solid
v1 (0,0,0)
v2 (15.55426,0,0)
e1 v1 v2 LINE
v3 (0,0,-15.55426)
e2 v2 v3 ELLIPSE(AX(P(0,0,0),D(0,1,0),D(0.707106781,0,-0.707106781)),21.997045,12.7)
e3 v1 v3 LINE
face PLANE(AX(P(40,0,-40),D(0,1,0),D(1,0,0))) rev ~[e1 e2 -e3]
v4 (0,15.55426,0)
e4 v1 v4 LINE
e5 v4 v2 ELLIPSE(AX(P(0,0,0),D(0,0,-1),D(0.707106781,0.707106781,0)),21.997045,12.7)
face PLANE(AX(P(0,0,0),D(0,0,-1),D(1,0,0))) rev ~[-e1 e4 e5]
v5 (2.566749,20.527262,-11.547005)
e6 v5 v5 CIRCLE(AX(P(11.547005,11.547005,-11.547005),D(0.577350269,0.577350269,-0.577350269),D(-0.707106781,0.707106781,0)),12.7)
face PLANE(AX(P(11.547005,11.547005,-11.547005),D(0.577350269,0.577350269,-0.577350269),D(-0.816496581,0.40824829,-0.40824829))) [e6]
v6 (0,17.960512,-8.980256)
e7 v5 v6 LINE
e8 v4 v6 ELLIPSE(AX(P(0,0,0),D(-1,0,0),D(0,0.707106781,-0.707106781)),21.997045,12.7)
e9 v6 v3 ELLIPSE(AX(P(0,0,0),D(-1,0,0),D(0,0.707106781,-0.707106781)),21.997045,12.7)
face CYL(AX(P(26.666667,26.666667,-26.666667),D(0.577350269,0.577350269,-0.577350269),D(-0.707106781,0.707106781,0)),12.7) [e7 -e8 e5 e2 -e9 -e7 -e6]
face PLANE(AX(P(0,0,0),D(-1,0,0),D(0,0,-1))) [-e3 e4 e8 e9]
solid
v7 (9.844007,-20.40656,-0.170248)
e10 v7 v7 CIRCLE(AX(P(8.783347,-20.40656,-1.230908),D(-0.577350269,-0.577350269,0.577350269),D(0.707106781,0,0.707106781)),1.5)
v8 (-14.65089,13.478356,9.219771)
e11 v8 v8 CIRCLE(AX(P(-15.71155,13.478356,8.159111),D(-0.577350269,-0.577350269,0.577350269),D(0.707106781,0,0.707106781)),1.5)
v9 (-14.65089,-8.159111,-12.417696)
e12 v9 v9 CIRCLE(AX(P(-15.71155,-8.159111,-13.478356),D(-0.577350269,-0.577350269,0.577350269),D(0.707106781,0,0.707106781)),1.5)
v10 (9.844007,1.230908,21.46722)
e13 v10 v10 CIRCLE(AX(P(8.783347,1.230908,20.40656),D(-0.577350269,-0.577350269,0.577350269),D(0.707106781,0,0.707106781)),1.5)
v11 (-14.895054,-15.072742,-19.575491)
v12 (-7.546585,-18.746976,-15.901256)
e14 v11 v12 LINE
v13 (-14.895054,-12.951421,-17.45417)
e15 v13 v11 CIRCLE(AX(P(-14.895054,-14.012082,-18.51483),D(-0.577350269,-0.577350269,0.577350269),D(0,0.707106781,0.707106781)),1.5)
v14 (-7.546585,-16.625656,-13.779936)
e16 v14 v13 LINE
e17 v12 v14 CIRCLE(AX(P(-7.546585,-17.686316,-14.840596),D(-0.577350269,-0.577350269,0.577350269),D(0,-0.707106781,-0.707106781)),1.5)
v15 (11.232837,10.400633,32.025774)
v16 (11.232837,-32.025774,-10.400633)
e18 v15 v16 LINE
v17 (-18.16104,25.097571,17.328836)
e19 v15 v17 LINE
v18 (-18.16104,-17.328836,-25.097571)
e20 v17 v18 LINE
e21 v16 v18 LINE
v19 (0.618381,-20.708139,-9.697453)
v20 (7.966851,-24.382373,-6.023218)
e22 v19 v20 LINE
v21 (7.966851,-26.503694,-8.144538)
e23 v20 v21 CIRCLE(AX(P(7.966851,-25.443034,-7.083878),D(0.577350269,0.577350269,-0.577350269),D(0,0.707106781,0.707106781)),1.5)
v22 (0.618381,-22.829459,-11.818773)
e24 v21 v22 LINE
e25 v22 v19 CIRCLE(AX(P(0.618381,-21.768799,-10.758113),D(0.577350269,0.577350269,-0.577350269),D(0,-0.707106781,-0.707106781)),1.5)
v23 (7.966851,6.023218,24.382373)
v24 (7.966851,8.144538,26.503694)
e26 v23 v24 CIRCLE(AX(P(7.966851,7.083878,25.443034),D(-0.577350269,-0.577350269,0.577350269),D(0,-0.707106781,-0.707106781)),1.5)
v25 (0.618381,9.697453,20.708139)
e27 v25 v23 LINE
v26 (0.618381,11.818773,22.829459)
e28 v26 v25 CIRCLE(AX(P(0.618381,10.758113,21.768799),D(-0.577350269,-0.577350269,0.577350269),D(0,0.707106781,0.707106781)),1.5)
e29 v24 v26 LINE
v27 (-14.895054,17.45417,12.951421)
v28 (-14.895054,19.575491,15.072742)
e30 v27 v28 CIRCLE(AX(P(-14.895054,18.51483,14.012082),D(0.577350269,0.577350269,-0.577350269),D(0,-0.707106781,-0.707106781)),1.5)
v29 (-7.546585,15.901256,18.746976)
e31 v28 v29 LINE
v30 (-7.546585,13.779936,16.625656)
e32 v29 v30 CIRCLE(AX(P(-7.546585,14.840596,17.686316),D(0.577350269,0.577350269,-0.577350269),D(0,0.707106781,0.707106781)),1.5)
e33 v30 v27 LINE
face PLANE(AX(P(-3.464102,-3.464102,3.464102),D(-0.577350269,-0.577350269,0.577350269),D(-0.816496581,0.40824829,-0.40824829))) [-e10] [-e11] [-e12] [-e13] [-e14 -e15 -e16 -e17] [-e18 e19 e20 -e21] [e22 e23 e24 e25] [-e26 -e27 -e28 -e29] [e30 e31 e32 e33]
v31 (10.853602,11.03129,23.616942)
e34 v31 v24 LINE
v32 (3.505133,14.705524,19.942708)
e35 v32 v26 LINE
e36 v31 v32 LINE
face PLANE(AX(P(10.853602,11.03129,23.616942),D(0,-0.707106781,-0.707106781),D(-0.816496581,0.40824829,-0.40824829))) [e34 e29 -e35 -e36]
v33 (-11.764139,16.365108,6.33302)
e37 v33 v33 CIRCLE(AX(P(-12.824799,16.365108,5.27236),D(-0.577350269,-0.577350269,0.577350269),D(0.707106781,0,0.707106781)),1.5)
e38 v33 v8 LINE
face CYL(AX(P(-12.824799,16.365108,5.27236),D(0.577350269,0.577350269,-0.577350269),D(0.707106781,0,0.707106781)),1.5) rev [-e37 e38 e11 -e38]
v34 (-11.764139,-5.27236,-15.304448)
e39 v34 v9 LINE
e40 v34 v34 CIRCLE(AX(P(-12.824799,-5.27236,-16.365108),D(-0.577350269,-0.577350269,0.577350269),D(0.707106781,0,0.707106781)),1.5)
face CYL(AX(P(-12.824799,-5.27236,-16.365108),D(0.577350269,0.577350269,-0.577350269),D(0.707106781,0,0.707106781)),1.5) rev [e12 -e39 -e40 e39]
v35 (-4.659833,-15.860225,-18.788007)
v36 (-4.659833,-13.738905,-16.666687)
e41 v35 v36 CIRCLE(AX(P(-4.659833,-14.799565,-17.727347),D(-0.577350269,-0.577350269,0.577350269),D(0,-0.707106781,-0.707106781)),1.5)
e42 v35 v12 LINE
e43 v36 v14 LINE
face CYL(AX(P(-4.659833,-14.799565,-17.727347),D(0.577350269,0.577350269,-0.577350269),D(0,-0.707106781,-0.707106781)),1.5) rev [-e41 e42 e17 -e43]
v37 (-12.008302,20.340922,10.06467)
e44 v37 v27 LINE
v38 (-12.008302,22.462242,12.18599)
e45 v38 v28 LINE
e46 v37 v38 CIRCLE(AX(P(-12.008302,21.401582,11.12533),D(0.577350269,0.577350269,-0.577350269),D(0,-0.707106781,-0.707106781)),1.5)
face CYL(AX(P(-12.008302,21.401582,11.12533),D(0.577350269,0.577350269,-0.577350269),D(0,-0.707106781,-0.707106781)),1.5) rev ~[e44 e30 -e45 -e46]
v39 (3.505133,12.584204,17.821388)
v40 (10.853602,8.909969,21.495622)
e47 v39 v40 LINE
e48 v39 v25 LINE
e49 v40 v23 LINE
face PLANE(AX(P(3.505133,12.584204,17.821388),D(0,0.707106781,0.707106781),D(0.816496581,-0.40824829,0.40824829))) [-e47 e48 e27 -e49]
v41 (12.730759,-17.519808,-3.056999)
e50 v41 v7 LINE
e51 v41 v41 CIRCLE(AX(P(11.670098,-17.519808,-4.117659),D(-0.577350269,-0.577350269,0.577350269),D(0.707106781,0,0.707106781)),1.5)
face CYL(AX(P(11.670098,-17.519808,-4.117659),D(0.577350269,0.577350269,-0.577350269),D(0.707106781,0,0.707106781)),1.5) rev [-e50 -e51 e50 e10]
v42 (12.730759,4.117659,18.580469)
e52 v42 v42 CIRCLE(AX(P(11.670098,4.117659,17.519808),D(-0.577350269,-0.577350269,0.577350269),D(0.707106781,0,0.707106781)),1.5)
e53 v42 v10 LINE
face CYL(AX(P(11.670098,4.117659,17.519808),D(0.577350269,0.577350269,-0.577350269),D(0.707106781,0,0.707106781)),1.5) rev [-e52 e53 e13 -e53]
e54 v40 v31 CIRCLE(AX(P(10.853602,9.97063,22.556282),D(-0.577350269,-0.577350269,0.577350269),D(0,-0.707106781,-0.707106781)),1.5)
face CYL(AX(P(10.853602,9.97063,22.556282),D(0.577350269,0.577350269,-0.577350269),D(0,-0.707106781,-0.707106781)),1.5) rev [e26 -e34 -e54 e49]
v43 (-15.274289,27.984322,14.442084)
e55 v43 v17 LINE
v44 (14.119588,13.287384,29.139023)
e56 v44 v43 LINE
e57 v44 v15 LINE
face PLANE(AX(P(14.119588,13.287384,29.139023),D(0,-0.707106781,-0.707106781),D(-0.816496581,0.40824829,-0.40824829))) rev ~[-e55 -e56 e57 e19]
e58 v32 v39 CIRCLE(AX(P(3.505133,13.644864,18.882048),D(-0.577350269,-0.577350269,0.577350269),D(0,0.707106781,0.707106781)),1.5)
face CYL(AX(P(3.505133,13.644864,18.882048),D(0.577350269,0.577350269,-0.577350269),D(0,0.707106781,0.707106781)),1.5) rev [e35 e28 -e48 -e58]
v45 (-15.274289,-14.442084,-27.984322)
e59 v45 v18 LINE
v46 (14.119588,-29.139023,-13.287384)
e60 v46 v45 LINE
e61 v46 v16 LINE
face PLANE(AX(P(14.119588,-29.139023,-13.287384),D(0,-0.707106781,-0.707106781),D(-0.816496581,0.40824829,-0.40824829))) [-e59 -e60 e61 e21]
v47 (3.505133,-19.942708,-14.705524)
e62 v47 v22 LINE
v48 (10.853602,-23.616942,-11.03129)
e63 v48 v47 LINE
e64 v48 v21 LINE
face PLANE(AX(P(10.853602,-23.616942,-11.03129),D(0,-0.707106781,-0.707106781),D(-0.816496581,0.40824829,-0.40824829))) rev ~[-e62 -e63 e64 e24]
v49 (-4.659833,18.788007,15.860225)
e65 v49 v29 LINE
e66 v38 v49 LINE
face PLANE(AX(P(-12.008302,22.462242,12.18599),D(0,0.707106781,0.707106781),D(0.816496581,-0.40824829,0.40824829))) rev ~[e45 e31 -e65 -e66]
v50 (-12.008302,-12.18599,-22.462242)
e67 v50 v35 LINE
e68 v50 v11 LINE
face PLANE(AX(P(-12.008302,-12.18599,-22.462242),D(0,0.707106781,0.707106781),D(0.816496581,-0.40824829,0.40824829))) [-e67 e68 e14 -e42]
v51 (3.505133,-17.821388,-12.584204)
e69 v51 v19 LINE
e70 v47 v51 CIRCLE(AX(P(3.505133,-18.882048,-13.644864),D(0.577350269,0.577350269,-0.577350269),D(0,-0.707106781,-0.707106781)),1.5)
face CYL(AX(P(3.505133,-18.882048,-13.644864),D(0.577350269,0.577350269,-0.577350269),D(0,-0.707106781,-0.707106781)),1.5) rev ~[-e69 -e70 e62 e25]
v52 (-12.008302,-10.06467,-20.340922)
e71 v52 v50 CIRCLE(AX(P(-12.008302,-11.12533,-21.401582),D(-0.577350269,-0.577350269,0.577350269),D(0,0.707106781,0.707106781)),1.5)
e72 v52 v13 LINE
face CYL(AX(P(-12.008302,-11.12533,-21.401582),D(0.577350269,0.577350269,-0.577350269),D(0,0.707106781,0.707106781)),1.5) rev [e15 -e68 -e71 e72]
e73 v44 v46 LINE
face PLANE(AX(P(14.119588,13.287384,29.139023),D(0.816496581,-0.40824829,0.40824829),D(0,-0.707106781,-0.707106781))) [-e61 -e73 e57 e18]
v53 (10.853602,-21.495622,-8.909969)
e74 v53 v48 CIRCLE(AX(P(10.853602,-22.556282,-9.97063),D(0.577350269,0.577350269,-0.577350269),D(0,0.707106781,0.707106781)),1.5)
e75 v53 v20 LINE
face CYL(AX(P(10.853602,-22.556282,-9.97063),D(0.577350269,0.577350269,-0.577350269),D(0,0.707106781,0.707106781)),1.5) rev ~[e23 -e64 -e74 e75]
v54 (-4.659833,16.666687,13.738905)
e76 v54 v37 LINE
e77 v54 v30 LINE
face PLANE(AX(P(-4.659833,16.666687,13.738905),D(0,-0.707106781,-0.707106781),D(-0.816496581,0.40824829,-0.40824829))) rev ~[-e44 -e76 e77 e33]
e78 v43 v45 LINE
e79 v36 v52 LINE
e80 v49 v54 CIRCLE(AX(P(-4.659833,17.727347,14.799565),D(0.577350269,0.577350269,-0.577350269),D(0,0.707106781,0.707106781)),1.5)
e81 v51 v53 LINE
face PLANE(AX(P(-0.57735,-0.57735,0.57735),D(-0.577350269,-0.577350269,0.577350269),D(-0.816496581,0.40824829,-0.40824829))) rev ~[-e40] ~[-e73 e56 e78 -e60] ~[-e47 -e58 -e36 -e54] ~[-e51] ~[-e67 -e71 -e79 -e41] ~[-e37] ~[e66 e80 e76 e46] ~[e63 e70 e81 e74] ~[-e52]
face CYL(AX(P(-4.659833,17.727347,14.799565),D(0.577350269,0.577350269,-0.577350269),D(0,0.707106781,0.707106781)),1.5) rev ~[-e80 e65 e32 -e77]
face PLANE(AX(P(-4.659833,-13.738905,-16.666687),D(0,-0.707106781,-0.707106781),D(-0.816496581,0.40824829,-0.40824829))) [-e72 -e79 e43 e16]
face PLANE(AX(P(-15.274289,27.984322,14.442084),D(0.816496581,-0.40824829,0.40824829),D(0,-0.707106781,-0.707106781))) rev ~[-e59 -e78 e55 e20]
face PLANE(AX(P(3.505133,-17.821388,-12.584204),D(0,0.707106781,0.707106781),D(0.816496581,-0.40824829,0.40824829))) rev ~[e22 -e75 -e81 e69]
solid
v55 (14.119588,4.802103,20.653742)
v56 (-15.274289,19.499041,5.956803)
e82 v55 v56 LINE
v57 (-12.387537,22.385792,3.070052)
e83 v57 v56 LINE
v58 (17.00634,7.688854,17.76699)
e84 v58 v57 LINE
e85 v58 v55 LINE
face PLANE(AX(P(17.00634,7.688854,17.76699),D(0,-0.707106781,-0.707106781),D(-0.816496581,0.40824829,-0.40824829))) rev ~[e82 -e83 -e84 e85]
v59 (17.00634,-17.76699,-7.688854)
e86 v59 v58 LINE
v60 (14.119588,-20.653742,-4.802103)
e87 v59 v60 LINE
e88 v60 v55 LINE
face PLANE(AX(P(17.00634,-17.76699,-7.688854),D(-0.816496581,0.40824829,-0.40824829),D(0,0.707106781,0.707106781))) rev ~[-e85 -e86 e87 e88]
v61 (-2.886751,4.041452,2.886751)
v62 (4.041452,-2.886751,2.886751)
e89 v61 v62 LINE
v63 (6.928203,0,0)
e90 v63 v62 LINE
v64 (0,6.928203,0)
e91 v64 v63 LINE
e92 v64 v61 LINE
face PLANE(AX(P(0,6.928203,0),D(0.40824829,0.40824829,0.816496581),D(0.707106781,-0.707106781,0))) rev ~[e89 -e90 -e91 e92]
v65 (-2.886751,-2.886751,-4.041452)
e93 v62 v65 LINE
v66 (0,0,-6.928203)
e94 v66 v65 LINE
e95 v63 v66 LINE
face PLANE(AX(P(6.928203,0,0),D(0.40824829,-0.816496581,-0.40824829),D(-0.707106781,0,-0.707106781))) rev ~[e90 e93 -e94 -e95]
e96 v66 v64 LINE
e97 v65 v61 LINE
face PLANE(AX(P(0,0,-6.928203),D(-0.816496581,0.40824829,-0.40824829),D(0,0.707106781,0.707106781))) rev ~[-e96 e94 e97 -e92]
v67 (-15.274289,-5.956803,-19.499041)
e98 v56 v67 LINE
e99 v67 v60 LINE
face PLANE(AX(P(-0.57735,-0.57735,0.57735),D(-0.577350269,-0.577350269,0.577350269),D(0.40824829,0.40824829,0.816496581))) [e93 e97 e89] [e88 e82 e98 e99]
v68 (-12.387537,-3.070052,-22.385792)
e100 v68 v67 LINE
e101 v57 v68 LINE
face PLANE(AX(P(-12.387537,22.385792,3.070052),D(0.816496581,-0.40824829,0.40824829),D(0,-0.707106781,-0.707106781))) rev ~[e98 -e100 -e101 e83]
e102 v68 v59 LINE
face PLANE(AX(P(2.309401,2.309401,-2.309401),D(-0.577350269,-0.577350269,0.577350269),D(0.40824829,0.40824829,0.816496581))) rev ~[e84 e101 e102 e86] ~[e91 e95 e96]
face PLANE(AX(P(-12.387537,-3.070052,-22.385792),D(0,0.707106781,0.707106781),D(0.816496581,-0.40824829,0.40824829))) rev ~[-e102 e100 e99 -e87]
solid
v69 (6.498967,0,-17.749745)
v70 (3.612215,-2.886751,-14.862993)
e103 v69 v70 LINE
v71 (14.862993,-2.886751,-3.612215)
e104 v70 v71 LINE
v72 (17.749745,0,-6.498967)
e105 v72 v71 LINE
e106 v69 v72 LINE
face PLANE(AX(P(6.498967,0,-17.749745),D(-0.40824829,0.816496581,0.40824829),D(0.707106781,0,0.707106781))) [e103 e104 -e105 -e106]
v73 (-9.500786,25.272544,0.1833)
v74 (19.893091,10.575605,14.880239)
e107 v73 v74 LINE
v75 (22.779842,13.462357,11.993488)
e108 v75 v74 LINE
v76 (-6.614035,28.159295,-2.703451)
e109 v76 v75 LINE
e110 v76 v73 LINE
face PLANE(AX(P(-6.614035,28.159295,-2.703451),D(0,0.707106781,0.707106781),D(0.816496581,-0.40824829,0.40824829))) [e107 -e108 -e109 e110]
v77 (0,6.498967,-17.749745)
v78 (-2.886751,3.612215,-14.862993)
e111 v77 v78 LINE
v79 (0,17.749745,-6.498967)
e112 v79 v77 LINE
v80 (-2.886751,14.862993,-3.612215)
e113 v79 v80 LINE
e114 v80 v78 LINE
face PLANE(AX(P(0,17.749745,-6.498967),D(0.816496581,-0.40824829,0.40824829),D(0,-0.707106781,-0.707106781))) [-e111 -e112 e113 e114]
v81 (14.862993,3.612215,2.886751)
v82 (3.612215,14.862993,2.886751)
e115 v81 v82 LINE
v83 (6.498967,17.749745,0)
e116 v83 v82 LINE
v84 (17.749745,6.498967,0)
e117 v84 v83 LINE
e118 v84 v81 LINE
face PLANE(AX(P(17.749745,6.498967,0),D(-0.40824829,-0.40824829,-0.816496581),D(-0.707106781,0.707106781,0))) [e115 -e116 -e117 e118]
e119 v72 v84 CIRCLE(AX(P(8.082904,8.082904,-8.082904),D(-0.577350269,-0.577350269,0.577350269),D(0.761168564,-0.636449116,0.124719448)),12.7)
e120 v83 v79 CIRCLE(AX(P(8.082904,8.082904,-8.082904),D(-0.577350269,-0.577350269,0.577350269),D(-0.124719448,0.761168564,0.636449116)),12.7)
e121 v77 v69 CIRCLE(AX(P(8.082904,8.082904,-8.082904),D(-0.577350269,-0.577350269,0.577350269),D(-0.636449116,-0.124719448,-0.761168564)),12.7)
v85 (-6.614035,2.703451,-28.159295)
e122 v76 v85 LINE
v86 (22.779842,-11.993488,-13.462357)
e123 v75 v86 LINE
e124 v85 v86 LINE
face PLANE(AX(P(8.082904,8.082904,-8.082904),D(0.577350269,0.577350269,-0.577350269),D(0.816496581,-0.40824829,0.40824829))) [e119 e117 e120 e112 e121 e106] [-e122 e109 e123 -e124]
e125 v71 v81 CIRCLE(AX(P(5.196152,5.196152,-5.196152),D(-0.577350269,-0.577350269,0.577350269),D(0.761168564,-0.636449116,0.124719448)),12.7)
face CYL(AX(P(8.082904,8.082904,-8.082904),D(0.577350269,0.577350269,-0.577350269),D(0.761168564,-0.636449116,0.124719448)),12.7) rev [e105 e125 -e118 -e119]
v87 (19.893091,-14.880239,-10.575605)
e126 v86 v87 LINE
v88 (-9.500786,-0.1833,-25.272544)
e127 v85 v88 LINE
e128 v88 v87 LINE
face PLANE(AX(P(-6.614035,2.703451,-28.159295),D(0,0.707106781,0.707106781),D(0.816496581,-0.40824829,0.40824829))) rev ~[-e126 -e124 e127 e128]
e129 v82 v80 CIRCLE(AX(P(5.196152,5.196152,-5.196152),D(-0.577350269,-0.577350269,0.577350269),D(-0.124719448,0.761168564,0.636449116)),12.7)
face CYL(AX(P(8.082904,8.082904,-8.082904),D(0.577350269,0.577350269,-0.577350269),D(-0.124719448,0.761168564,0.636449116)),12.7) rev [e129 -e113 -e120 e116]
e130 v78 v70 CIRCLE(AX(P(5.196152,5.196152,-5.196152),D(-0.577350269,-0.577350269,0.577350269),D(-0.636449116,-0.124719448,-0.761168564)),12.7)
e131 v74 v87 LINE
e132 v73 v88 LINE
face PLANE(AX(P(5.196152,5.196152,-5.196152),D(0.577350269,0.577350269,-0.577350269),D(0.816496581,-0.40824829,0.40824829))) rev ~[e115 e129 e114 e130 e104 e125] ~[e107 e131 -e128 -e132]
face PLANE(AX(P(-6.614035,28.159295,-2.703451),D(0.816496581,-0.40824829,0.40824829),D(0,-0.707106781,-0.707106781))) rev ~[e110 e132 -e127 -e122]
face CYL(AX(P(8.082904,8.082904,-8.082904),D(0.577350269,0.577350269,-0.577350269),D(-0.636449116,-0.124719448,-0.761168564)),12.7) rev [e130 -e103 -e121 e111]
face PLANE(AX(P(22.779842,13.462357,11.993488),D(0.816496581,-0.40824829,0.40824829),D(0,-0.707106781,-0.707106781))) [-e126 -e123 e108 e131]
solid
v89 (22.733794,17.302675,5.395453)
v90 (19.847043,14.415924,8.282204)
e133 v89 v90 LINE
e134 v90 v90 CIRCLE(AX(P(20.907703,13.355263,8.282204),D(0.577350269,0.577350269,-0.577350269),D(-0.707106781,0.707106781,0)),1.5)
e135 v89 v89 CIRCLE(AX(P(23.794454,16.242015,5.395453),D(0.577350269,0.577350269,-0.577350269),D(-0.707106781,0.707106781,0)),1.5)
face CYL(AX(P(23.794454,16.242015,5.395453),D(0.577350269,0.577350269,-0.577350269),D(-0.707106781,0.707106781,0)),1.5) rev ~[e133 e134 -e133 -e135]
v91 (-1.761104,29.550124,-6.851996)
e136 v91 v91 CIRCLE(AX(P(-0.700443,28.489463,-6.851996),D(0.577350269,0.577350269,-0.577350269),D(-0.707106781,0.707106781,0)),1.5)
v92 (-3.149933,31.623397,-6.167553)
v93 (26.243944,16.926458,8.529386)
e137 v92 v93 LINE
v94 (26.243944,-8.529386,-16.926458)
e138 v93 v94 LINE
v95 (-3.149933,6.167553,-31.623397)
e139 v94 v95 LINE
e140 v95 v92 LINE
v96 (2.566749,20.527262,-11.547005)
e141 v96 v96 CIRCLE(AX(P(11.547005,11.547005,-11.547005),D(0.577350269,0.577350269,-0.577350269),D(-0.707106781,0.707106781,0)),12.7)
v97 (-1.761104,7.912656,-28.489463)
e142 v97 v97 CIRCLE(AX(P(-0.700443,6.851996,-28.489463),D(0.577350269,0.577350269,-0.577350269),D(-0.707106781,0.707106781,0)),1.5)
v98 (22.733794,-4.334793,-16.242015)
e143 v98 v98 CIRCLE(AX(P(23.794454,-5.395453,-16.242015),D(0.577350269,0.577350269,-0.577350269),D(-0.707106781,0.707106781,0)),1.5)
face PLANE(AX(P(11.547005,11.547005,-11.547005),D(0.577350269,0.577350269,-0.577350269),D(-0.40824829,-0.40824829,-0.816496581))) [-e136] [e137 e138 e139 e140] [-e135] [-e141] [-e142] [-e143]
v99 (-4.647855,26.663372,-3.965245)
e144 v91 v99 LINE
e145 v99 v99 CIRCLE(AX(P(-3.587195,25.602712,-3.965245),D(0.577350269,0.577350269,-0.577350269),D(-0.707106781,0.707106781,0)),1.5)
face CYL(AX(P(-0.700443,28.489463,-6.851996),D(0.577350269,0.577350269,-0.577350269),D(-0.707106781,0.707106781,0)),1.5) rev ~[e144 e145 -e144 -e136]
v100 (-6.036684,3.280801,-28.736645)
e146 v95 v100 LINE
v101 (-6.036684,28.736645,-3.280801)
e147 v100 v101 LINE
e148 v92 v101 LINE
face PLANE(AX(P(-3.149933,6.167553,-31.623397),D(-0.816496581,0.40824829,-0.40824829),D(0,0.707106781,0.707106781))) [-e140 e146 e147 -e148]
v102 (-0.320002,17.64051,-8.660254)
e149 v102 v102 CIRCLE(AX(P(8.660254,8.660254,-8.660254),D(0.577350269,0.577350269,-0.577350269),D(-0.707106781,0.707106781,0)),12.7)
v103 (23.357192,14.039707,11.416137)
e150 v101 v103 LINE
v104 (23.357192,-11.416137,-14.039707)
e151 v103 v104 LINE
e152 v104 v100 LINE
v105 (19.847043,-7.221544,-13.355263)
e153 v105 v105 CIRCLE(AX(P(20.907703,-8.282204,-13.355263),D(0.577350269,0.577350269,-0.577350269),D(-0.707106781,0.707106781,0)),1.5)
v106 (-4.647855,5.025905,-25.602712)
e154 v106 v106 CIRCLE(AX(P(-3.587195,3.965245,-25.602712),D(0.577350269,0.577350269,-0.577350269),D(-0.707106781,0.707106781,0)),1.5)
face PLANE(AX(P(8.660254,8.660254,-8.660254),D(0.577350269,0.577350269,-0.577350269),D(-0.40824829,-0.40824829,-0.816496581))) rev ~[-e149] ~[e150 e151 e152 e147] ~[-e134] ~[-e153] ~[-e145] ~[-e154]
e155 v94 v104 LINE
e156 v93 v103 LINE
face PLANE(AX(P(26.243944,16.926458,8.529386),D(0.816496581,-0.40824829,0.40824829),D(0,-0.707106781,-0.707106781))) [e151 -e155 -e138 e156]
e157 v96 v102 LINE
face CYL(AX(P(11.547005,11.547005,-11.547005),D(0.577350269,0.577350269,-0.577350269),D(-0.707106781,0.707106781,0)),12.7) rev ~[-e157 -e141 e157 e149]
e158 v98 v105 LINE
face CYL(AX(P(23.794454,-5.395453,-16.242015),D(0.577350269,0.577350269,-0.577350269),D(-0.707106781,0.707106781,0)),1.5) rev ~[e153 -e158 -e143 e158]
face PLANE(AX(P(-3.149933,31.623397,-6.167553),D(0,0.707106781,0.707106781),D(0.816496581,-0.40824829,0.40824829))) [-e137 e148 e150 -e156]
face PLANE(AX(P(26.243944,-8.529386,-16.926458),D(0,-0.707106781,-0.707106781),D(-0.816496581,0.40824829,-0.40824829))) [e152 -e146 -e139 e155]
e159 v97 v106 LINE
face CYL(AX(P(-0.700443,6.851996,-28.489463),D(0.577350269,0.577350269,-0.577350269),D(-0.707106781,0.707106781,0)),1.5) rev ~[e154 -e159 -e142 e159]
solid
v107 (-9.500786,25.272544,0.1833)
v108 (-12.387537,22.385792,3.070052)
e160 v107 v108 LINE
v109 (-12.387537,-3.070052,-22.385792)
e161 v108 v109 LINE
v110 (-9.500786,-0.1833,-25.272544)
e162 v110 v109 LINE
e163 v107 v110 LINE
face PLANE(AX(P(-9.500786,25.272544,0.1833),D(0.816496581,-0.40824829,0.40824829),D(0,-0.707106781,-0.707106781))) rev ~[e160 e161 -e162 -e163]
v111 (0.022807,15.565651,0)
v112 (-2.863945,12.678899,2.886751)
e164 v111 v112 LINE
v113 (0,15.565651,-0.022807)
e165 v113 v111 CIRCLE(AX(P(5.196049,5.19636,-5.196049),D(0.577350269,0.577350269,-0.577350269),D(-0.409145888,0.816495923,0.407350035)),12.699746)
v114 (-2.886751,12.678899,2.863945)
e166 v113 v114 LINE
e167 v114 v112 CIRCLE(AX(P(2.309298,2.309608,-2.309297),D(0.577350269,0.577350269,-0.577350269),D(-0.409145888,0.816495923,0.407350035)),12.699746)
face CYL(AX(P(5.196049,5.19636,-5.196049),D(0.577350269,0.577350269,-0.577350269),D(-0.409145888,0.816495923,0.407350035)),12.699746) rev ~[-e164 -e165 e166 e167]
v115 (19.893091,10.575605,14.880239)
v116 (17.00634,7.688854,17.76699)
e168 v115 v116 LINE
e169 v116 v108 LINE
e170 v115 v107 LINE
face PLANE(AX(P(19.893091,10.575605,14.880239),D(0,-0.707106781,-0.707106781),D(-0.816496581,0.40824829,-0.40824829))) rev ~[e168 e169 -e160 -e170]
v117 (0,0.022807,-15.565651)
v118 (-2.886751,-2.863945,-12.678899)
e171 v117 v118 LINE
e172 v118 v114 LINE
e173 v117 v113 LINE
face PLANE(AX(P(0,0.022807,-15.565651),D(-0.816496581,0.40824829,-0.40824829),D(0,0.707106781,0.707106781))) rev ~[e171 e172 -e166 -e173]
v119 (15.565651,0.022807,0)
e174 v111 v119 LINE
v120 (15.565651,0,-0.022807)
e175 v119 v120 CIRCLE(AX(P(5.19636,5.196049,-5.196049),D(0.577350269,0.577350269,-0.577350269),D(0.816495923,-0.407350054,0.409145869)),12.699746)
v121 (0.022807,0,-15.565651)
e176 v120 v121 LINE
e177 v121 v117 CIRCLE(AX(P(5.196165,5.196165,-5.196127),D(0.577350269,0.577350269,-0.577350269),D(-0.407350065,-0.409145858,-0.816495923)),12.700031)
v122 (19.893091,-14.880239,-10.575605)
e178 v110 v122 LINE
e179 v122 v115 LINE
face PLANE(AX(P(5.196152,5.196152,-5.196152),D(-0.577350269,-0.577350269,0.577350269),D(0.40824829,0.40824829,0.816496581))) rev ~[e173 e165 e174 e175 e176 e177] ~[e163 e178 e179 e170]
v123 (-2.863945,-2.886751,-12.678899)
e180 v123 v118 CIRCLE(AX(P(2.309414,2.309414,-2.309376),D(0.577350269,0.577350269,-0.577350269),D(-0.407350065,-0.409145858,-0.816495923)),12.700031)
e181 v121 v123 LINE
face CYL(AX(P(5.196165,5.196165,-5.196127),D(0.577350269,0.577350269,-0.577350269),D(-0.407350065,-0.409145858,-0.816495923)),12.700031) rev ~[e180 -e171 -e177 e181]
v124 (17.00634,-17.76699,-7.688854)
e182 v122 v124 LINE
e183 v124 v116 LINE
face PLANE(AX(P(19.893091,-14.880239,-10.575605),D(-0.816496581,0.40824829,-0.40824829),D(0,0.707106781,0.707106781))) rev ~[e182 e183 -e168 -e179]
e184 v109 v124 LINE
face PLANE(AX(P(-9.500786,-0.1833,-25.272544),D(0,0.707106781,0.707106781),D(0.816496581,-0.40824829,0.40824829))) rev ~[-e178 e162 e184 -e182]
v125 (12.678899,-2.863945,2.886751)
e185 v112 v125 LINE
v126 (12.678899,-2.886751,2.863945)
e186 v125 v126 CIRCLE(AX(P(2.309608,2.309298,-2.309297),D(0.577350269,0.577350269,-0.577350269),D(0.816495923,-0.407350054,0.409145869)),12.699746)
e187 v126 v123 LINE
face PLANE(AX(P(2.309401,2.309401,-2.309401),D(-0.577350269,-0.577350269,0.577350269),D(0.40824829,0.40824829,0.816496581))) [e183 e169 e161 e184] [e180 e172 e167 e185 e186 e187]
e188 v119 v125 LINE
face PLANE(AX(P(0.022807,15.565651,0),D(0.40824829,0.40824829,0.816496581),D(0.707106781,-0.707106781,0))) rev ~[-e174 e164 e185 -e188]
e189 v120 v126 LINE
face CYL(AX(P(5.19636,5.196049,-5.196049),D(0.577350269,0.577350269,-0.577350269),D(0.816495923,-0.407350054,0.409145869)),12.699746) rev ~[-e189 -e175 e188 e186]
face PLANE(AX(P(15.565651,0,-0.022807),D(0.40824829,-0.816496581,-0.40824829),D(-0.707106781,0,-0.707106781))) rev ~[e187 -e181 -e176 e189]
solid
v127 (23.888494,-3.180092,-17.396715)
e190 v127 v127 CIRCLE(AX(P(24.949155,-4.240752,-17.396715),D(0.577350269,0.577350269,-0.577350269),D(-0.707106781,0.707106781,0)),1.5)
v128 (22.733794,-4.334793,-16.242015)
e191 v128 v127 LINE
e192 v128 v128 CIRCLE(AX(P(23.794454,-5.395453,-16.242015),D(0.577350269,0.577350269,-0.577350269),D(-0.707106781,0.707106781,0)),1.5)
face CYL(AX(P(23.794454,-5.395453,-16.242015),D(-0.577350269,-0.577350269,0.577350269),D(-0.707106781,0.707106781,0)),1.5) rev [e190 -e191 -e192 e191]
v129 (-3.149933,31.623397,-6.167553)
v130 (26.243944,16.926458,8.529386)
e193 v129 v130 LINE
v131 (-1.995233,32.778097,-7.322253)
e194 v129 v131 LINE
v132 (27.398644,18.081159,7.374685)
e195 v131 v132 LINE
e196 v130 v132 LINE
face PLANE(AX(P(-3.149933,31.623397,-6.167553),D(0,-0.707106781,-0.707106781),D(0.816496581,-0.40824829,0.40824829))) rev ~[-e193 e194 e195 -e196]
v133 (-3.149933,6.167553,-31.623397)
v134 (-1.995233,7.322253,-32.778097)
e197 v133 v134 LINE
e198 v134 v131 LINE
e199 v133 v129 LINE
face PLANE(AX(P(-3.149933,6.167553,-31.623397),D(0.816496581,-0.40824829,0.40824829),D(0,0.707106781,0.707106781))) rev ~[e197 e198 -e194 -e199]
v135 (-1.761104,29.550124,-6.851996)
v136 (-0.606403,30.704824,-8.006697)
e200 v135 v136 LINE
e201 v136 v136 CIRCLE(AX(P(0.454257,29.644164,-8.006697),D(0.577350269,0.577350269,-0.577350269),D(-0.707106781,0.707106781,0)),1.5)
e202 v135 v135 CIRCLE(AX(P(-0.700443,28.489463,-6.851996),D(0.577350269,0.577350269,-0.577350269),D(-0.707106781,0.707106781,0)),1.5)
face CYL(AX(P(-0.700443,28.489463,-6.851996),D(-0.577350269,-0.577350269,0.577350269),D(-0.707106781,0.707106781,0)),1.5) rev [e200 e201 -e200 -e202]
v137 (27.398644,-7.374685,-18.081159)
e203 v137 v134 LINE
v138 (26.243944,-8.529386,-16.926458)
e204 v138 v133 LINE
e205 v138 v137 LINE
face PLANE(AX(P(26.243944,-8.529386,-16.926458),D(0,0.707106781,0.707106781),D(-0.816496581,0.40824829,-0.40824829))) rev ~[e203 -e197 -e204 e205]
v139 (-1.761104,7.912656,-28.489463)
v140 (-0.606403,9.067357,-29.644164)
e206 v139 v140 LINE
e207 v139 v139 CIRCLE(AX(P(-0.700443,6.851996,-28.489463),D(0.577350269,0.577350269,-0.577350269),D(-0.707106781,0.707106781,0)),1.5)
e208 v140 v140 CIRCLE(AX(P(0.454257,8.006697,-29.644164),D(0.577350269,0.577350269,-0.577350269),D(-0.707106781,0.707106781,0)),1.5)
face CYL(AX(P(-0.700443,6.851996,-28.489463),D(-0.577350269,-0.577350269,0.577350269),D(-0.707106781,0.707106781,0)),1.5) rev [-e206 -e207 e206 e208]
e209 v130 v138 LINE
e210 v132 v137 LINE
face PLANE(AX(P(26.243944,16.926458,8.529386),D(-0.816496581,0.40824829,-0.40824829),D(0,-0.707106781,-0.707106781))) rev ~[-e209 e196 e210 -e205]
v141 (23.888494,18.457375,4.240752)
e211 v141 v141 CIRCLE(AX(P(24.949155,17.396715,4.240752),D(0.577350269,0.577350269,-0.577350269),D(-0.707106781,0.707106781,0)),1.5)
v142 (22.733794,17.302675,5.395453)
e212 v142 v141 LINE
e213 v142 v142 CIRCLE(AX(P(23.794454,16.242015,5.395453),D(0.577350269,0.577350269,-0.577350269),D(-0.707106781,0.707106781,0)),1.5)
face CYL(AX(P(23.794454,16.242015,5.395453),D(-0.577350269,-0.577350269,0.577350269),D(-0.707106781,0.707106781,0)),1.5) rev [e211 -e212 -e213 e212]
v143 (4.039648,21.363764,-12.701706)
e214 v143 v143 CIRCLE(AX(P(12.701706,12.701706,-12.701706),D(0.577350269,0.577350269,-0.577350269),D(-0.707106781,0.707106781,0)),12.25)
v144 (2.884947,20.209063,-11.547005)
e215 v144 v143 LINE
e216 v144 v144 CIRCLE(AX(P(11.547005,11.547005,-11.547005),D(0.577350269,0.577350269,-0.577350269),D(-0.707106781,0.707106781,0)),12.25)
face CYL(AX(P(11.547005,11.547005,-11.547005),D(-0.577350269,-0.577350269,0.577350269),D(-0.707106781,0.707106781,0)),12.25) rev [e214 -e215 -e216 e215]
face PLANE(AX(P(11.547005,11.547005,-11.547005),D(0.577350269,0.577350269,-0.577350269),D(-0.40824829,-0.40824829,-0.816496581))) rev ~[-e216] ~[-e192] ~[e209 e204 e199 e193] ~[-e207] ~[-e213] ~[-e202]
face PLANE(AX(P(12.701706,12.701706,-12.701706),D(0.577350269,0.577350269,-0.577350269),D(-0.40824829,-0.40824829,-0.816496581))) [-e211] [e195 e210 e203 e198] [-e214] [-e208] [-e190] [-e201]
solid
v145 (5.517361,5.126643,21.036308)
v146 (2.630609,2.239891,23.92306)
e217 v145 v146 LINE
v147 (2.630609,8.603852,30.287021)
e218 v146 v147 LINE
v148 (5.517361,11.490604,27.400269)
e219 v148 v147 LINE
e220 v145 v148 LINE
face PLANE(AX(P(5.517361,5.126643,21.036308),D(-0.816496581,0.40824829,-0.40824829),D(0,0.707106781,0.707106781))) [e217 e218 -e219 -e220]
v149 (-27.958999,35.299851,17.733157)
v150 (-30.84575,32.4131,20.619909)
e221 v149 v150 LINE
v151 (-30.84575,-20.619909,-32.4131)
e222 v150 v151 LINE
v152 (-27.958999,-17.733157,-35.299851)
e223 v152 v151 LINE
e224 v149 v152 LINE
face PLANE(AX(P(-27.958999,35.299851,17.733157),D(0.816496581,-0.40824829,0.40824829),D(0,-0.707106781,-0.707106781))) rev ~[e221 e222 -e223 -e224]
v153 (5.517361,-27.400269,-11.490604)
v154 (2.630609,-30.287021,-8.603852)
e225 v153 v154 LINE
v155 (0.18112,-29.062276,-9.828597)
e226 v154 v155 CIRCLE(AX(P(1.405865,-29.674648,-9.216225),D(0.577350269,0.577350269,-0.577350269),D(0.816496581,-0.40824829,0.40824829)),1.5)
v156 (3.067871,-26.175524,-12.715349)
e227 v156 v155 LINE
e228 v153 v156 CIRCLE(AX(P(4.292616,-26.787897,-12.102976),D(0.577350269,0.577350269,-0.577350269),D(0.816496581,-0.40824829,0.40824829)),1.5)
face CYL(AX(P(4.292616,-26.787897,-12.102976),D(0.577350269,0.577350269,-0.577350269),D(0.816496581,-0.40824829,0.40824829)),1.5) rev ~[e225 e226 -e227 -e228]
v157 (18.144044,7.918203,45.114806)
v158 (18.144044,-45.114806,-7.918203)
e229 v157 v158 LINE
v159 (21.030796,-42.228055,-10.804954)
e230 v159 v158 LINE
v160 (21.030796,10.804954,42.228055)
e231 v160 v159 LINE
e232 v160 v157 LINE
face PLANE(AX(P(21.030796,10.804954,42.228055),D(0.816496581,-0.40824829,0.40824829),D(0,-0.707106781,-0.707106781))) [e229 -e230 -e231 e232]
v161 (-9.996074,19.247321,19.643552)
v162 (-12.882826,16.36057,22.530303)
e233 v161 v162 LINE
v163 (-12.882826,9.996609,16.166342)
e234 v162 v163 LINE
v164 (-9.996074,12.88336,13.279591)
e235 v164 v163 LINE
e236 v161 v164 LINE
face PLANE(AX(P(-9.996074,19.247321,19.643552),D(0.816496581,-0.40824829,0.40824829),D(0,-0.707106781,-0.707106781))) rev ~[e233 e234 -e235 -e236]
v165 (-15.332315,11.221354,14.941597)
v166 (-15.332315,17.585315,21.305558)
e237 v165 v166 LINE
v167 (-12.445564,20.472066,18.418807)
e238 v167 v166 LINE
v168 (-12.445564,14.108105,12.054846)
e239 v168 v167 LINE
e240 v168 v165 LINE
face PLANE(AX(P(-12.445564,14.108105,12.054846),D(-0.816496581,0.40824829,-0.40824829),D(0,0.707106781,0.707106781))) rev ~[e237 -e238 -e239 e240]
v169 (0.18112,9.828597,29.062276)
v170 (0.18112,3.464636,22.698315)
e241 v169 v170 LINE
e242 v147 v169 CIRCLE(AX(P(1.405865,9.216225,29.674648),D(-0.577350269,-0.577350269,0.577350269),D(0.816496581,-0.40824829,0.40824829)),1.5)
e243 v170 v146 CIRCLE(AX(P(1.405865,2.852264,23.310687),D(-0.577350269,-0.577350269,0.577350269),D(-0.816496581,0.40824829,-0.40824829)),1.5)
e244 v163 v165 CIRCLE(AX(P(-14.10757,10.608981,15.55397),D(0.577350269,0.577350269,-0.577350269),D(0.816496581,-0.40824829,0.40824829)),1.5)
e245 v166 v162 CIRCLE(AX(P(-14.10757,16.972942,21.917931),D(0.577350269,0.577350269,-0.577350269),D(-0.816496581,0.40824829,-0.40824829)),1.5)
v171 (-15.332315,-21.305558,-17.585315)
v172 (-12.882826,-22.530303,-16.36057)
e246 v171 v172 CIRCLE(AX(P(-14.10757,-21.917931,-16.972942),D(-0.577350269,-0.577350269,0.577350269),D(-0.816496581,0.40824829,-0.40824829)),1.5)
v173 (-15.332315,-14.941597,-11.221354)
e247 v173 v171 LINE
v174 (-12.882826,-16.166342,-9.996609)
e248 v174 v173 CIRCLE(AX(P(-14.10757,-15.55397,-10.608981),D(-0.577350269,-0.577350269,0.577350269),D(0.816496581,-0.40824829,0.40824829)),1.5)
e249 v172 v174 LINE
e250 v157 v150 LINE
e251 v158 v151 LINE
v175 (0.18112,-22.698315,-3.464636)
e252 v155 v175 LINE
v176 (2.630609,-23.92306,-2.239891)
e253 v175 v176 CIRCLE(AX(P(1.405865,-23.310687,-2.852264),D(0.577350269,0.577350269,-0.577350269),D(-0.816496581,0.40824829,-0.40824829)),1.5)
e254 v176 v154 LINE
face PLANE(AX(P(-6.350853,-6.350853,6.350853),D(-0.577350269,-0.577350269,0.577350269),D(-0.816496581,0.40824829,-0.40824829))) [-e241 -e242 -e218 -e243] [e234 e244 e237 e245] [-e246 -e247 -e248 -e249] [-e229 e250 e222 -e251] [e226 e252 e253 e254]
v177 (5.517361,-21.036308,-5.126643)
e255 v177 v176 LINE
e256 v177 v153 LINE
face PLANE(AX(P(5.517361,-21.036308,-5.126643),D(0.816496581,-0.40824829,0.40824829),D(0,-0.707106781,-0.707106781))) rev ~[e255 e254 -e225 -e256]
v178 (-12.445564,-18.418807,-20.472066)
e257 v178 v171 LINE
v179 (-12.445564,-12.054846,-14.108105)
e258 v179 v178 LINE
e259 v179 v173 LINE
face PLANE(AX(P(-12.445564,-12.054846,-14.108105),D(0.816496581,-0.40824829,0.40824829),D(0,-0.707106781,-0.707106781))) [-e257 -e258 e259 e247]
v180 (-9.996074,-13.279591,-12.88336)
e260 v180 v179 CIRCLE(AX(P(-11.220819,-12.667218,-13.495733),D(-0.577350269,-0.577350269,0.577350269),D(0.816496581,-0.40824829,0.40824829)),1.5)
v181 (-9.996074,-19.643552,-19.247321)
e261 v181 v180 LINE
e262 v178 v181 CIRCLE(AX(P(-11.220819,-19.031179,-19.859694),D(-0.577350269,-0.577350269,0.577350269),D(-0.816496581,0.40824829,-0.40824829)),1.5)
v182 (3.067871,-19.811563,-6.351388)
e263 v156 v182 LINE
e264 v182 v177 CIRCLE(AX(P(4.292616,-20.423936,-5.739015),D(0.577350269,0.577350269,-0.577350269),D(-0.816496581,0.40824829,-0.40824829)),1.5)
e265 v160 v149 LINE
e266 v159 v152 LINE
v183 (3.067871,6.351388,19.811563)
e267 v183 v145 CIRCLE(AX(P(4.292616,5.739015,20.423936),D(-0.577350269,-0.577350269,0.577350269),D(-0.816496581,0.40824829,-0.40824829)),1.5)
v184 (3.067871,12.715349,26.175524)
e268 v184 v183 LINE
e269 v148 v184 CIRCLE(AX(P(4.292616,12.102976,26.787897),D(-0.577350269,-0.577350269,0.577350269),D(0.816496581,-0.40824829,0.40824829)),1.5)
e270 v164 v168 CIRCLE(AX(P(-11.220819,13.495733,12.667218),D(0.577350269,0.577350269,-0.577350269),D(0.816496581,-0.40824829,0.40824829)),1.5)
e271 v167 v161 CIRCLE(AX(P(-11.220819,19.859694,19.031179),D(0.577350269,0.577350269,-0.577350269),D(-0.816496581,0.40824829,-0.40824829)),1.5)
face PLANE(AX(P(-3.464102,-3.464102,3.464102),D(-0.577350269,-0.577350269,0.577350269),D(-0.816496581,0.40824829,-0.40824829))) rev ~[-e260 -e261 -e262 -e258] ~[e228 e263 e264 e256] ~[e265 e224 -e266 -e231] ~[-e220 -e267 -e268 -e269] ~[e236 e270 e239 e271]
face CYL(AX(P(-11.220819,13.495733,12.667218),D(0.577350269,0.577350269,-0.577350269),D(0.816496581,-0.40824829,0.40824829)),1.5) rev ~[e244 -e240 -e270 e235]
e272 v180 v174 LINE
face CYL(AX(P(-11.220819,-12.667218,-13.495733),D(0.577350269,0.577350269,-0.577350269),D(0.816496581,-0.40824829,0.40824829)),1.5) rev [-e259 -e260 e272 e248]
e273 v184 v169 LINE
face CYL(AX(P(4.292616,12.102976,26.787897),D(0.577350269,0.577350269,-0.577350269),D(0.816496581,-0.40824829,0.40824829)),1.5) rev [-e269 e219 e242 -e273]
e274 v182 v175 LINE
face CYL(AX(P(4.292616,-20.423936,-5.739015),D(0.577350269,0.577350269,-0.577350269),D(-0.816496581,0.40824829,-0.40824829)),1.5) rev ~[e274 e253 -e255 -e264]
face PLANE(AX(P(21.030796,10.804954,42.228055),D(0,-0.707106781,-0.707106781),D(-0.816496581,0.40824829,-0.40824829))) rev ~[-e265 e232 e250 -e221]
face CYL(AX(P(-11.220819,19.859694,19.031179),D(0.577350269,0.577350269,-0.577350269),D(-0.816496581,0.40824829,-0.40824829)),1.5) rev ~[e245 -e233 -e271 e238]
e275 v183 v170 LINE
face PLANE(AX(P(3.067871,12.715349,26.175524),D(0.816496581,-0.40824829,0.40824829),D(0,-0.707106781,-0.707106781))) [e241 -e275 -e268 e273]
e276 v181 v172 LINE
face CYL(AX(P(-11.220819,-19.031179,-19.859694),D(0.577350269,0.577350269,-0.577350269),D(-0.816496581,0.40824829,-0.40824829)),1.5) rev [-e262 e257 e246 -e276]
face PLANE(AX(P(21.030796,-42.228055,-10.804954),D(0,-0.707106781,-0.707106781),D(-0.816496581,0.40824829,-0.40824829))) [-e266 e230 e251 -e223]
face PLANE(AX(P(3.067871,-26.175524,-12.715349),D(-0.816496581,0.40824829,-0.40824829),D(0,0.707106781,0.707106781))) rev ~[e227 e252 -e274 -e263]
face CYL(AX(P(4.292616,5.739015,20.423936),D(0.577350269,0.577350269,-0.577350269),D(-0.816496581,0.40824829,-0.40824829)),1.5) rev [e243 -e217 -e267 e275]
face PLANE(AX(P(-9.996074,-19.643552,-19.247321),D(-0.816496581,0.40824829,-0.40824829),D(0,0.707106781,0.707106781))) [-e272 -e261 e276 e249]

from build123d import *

# Parameters (mm, degrees)
SKETCH1_W            = 80
SKETCH1_H            = 80
BOSS_EXTRUDE1_DEPTH  = 80
SKETCH2_R            = 97.950709898
CUT_EXTRUDE1_DEPTH   = 93.37604307
SKETCH3_R            = 78.302577254
SKETCH3_R_2          = 12.7
CUT_EXTRUDE2_DEPTH   = 40
SKETCH4_R            = 14.105721121
CUT_EXTRUDE3_DEPTH   = 40
SKETCH6_W            = 36
SKETCH6_H            = 36
BOSS_EXTRUDE2_DEPTH  = 5
BOSS_EXTRUDE3_DEPTH  = 5
BOSS_EXTRUDE4_DEPTH  = 5
SKETCH12_R           = 12.7
SKETCH12_R_2         = 1.5
BOSS_EXTRUDE6_DEPTH  = 5
SKETCH15_W           = 36
SKETCH15_H           = 60
SKETCH15_R           = 1.5
BOSS_EXTRUDE8_DEPTH  = 5
SKETCH16_W           = 60
SKETCH16_H           = 75
BOSS_EXTRUDE9_DEPTH  = 5
SKETCH20_R           = 12.25
SKETCH20_R_2         = 1.5
BOSS_EXTRUDE10_DEPTH = 2


with BuildPart() as part:
    # Sketch1 → Boss-Extrude1 (new body)
    with BuildSketch(Plane(origin=(0, 0, 0), x_dir=(1, 0, 0), z_dir=(0, 1, 0))):
        with Locations((40, 40)):
            Rectangle(SKETCH1_W, SKETCH1_H)
    extrude(amount=BOSS_EXTRUDE1_DEPTH)

    # Sketch2 → Cut-Extrude1 (cut, through all)
    with BuildSketch(Plane(origin=(26.666666667, 26.666666667, -26.666666667), x_dir=(-0.8164965809277261, 0.408248290463863, -0.408248290463863), z_dir=(0.5773502691896257, 0.5773502691896258, -0.5773502691896258))):
        Circle(SKETCH2_R)
    extrude(amount=CUT_EXTRUDE1_DEPTH, mode=Mode.SUBTRACT)

    # Sketch3 → Cut-Extrude2 (cut)
    with BuildSketch(Plane(origin=(26.666666667, 26.666666667, -26.666666667), x_dir=(-0.4082482904638628, -0.408248290463863, -0.8164965809277263), z_dir=(0.5773502691896258, 0.577350269189626, -0.5773502691896256))):
        Circle(SKETCH3_R)
        with Locations(Location((0, 0, 0), (0, 0, 90))):
            Circle(SKETCH3_R_2, mode=Mode.SUBTRACT)
    extrude(amount=-CUT_EXTRUDE2_DEPTH, mode=Mode.SUBTRACT)

    # Sketch4 → Cut-Extrude3 (cut)
    with BuildSketch(Plane(origin=(11.547005384, 11.547005384, -11.547005384), x_dir=(-0.816496580927726, 0.408248290463863, -0.408248290463863), z_dir=(0.5773502691896258, 0.5773502691896262, -0.5773502691896255))):
        Circle(SKETCH4_R)
    extrude(amount=CUT_EXTRUDE3_DEPTH, mode=Mode.SUBTRACT)


with BuildPart() as body_2:
    # Sketch6 → Boss-Extrude2 (new body)
    with BuildSketch(Plane(origin=(8.082903769, 8.082903769, -8.082903769), x_dir=(0.8164965809277259, -0.4082482904638634, 0.40824829046386296), z_dir=(0.577350269189626, 0.5773502691896261, -0.5773502691896253))):
        Rectangle(SKETCH6_W, SKETCH6_H)
        with BuildLine():
            Line((11.839413643, -4.595463479), (-1.939918706, -12.55096472))
            ThreePointArc((-1.939918706, -12.55096472), (-6.35, -10.998522628), (-9.899494937, -7.955501241))
            Line((-9.899494937, -7.955501241), (-9.899494937, 7.955501241))
            ThreePointArc((-9.899494937, 7.955501241), (-6.35, 10.998522628), (-1.939918706, 12.55096472))
            Line((-1.939918706, 12.55096472), (11.839413643, 4.595463479))
            ThreePointArc((11.839413643, 4.595463479), (12.7, 0), (11.839413643, -4.595463479))
        make_face(mode=Mode.SUBTRACT)
    extrude(amount=-BOSS_EXTRUDE2_DEPTH)


with BuildPart() as body_3:
    # Sketch7 → Boss-Extrude3 (new body)
    with BuildSketch(Plane(origin=(5.196152423, 5.196152423, -5.196152423), x_dir=(0.4082482904638628, 0.40824829046386274, 0.8164965809277264), z_dir=(-0.5773502691896258, -0.5773502691896261, 0.5773502691896254))):
        Polygon((6.588457268, 24.588457268), (-24.588457268, 6.588457268), (-6.588457268, -24.588457268), (24.588457268, -6.588457268), align=None)
        with BuildLine():
            Line((6.363961031, 10.9904504), (6.363961031, -10.9904504))
            ThreePointArc((6.363961031, -10.9904504), (6.35, -10.998522628), (6.33602873, -11.006577121))
            Line((6.33602873, -11.006577121), (-12.699989761, -0.016126721))
            ThreePointArc((-12.699989761, -0.016126721), (-12.7, 0), (-12.699989761, 0.016126721))
            Line((-12.699989761, 0.016126721), (6.33602873, 11.006577121))
            ThreePointArc((6.33602873, 11.006577121), (6.35, 10.998522628), (6.363961031, 10.9904504))
        make_face(mode=Mode.SUBTRACT)
    extrude(amount=BOSS_EXTRUDE3_DEPTH)


with BuildPart() as body_4:
    # Sketch8 → Boss-Extrude4 (new body)
    with BuildSketch(Plane(origin=(2.309401077, 2.309401077, -2.309401077), x_dir=(0.40824829046386274, 0.4082482904638628, 0.8164965809277264), z_dir=(-0.5773502691896258, -0.5773502691896261, 0.5773502691896254))):
        Polygon((24.588457268, -6.588457268), (6.588457268, 24.588457268), (-24.588457268, 6.588457268), (-6.588457268, -24.588457268), align=None)
        Polygon((-5.656854249, 0), (2.828427125, 4.898979486), (2.828427125, -4.898979486), align=None, mode=Mode.SUBTRACT)
    extrude(amount=BOSS_EXTRUDE4_DEPTH)


with BuildPart() as body_5:
    # Sketch12 → Boss-Extrude6 (new body)
    with BuildSketch(Plane(origin=(11.547005384, 11.547005384, -11.547005384), x_dir=(-0.40824829046386285, -0.40824829046386274, -0.8164965809277263), z_dir=(0.577350269189626, 0.5773502691896261, -0.5773502691896255))):
        Polygon((24.588457268, 6.588457268), (-6.588457268, 24.588457268), (-24.588457268, -6.588457268), (6.588457268, -24.588457268), align=None)
        with Locations(Location((0, 0, 0), (0, 0, 90))):
            Circle(SKETCH12_R, mode=Mode.SUBTRACT)
        with Locations(Location((20.750188678, 5.340381057, 0), (0, 0, 90))):
            Circle(SKETCH12_R_2, mode=Mode.SUBTRACT)
        with Locations(Location((-5.750188678, 20.640381057, 0), (0, 0, 90))):
            Circle(SKETCH12_R_2, mode=Mode.SUBTRACT)
        with Locations(Location((-20.750188678, -5.340381057, 0), (0, 0, 90))):
            Circle(SKETCH12_R_2, mode=Mode.SUBTRACT)
        with Locations(Location((5.750188678, -20.640381057, 0), (0, 0, 90))):
            Circle(SKETCH12_R_2, mode=Mode.SUBTRACT)
    extrude(amount=-BOSS_EXTRUDE6_DEPTH)


with BuildPart() as body_6:
    # Sketch15 → Boss-Extrude8 (new body)
    with BuildSketch(Plane(origin=(-0.577350269189621, -0.5773502691896211, 0.5773502691896204), x_dir=(-0.8164965809277259, 0.4082482904638634, -0.4082482904638631), z_dir=(-0.5773502691896261, -0.5773502691896256, 0.5773502691896257))):
        Rectangle(SKETCH15_W, SKETCH15_H)
        with Locations(Location((15, 15.3, 0), (0, 0, 210))):
            Circle(SKETCH15_R, mode=Mode.SUBTRACT)
        with Locations(Location((-15, 15.3, 0), (0, 0, 210))):
            Circle(SKETCH15_R, mode=Mode.SUBTRACT)
        with Locations(Location((-15, -15.3, 0), (0, 0, 210))):
            Circle(SKETCH15_R, mode=Mode.SUBTRACT)
        with Locations(Location((15, -15.3, 0), (0, 0, 210))):
            Circle(SKETCH15_R, mode=Mode.SUBTRACT)
        with BuildLine():
            Line((-14, 24.5), (-5, 24.5))
            ThreePointArc((-5, 24.5), (-3.5, 23), (-5, 21.5))
            Line((-5, 21.5), (-14, 21.5))
            ThreePointArc((-14, 21.5), (-15.5, 23), (-14, 24.5))
        make_face(mode=Mode.SUBTRACT)
        with BuildLine():
            Line((14, 24.5), (5, 24.5))
            ThreePointArc((5, 24.5), (3.5, 23), (5, 21.5))
            Line((5, 21.5), (14, 21.5))
            ThreePointArc((14, 21.5), (15.5, 23), (14, 24.5))
        make_face(mode=Mode.SUBTRACT)
        with BuildLine():
            Line((14, -24.5), (5, -24.5))
            ThreePointArc((5, -24.5), (3.5, -23), (5, -21.5))
            Line((5, -21.5), (14, -21.5))
            ThreePointArc((14, -21.5), (15.5, -23), (14, -24.5))
        make_face(mode=Mode.SUBTRACT)
        with BuildLine():
            Line((-14, -24.5), (-5, -24.5))
            ThreePointArc((-5, -24.5), (-3.5, -23), (-5, -21.5))
            Line((-5, -21.5), (-14, -21.5))
            ThreePointArc((-14, -21.5), (-15.5, -23), (-14, -24.5))
        make_face(mode=Mode.SUBTRACT)
    extrude(amount=BOSS_EXTRUDE8_DEPTH)


with BuildPart() as body_7:
    # Sketch16 → Boss-Extrude9 (new body)
    with BuildSketch(Plane(origin=(-3.464101615, -3.464101615, 3.464101615), x_dir=(-0.8164965809277259, 0.4082482904638634, -0.4082482904638631), z_dir=(-0.5773502691896261, -0.5773502691896256, 0.5773502691896257))):
        Rectangle(SKETCH16_W, SKETCH16_H)
        with BuildLine():
            Line((-11, 18.5), (-11, 27.5))
            ThreePointArc((-11, 27.5), (-9.5, 29), (-8, 27.5))
            Line((-8, 27.5), (-8, 18.5))
            ThreePointArc((-8, 18.5), (-9.5, 17), (-11, 18.5))
        make_face(mode=Mode.SUBTRACT)
        with BuildLine():
            Line((11, 18.5), (11, 27.5))
            ThreePointArc((11, 27.5), (9.5, 29), (8, 27.5))
            Line((8, 27.5), (8, 18.5))
            ThreePointArc((8, 18.5), (9.5, 17), (11, 18.5))
        make_face(mode=Mode.SUBTRACT)
        with BuildLine():
            Line((-11, -18.5), (-11, -27.5))
            ThreePointArc((-11, -27.5), (-9.5, -29), (-8, -27.5))
            Line((-8, -27.5), (-8, -18.5))
            ThreePointArc((-8, -18.5), (-9.5, -17), (-11, -18.5))
        make_face(mode=Mode.SUBTRACT)
        with BuildLine():
            Line((8, -27.5), (8, -18.5))
            ThreePointArc((8, -18.5), (9.5, -17), (11, -18.5))
            Line((11, -18.5), (11, -27.5))
            ThreePointArc((11, -27.5), (9.5, -29), (8, -27.5))
        make_face(mode=Mode.SUBTRACT)
    extrude(amount=BOSS_EXTRUDE9_DEPTH)


with BuildPart() as body_8:
    # Sketch20 → Boss-Extrude10 (new body)
    with BuildSketch(Plane(origin=(11.547005384, 11.547005384, -11.547005384), x_dir=(-0.4082482904638628, -0.4082482904638628, -0.8164965809277264), z_dir=(0.577350269189626, 0.577350269189626, -0.5773502691896254))):
        Polygon((6.588457268, -24.588457268), (24.588457268, 6.588457268), (-6.588457268, 24.588457268), (-24.588457268, -6.588457268), align=None)
        with Locations(Location((0, 0, 0), (0, 0, 90))):
            Circle(SKETCH20_R, mode=Mode.SUBTRACT)
        with Locations(Location((20.750188678, 5.340381057, 0), (0, 0, 90))):
            Circle(SKETCH20_R_2, mode=Mode.SUBTRACT)
        with Locations(Location((-5.750188678, 20.640381057, 0), (0, 0, 90))):
            Circle(SKETCH20_R_2, mode=Mode.SUBTRACT)
        with Locations(Location((-20.750188678, -5.340381057, 0), (0, 0, 90))):
            Circle(SKETCH20_R_2, mode=Mode.SUBTRACT)
        with Locations(Location((5.750188678, -20.640381057, 0), (0, 0, 90))):
            Circle(SKETCH20_R_2, mode=Mode.SUBTRACT)
    extrude(amount=BOSS_EXTRUDE10_DEPTH)


solid = Compound([part.part, body_2.part, body_3.part, body_4.part, body_5.part, body_6.part, body_7.part, body_8.part])
